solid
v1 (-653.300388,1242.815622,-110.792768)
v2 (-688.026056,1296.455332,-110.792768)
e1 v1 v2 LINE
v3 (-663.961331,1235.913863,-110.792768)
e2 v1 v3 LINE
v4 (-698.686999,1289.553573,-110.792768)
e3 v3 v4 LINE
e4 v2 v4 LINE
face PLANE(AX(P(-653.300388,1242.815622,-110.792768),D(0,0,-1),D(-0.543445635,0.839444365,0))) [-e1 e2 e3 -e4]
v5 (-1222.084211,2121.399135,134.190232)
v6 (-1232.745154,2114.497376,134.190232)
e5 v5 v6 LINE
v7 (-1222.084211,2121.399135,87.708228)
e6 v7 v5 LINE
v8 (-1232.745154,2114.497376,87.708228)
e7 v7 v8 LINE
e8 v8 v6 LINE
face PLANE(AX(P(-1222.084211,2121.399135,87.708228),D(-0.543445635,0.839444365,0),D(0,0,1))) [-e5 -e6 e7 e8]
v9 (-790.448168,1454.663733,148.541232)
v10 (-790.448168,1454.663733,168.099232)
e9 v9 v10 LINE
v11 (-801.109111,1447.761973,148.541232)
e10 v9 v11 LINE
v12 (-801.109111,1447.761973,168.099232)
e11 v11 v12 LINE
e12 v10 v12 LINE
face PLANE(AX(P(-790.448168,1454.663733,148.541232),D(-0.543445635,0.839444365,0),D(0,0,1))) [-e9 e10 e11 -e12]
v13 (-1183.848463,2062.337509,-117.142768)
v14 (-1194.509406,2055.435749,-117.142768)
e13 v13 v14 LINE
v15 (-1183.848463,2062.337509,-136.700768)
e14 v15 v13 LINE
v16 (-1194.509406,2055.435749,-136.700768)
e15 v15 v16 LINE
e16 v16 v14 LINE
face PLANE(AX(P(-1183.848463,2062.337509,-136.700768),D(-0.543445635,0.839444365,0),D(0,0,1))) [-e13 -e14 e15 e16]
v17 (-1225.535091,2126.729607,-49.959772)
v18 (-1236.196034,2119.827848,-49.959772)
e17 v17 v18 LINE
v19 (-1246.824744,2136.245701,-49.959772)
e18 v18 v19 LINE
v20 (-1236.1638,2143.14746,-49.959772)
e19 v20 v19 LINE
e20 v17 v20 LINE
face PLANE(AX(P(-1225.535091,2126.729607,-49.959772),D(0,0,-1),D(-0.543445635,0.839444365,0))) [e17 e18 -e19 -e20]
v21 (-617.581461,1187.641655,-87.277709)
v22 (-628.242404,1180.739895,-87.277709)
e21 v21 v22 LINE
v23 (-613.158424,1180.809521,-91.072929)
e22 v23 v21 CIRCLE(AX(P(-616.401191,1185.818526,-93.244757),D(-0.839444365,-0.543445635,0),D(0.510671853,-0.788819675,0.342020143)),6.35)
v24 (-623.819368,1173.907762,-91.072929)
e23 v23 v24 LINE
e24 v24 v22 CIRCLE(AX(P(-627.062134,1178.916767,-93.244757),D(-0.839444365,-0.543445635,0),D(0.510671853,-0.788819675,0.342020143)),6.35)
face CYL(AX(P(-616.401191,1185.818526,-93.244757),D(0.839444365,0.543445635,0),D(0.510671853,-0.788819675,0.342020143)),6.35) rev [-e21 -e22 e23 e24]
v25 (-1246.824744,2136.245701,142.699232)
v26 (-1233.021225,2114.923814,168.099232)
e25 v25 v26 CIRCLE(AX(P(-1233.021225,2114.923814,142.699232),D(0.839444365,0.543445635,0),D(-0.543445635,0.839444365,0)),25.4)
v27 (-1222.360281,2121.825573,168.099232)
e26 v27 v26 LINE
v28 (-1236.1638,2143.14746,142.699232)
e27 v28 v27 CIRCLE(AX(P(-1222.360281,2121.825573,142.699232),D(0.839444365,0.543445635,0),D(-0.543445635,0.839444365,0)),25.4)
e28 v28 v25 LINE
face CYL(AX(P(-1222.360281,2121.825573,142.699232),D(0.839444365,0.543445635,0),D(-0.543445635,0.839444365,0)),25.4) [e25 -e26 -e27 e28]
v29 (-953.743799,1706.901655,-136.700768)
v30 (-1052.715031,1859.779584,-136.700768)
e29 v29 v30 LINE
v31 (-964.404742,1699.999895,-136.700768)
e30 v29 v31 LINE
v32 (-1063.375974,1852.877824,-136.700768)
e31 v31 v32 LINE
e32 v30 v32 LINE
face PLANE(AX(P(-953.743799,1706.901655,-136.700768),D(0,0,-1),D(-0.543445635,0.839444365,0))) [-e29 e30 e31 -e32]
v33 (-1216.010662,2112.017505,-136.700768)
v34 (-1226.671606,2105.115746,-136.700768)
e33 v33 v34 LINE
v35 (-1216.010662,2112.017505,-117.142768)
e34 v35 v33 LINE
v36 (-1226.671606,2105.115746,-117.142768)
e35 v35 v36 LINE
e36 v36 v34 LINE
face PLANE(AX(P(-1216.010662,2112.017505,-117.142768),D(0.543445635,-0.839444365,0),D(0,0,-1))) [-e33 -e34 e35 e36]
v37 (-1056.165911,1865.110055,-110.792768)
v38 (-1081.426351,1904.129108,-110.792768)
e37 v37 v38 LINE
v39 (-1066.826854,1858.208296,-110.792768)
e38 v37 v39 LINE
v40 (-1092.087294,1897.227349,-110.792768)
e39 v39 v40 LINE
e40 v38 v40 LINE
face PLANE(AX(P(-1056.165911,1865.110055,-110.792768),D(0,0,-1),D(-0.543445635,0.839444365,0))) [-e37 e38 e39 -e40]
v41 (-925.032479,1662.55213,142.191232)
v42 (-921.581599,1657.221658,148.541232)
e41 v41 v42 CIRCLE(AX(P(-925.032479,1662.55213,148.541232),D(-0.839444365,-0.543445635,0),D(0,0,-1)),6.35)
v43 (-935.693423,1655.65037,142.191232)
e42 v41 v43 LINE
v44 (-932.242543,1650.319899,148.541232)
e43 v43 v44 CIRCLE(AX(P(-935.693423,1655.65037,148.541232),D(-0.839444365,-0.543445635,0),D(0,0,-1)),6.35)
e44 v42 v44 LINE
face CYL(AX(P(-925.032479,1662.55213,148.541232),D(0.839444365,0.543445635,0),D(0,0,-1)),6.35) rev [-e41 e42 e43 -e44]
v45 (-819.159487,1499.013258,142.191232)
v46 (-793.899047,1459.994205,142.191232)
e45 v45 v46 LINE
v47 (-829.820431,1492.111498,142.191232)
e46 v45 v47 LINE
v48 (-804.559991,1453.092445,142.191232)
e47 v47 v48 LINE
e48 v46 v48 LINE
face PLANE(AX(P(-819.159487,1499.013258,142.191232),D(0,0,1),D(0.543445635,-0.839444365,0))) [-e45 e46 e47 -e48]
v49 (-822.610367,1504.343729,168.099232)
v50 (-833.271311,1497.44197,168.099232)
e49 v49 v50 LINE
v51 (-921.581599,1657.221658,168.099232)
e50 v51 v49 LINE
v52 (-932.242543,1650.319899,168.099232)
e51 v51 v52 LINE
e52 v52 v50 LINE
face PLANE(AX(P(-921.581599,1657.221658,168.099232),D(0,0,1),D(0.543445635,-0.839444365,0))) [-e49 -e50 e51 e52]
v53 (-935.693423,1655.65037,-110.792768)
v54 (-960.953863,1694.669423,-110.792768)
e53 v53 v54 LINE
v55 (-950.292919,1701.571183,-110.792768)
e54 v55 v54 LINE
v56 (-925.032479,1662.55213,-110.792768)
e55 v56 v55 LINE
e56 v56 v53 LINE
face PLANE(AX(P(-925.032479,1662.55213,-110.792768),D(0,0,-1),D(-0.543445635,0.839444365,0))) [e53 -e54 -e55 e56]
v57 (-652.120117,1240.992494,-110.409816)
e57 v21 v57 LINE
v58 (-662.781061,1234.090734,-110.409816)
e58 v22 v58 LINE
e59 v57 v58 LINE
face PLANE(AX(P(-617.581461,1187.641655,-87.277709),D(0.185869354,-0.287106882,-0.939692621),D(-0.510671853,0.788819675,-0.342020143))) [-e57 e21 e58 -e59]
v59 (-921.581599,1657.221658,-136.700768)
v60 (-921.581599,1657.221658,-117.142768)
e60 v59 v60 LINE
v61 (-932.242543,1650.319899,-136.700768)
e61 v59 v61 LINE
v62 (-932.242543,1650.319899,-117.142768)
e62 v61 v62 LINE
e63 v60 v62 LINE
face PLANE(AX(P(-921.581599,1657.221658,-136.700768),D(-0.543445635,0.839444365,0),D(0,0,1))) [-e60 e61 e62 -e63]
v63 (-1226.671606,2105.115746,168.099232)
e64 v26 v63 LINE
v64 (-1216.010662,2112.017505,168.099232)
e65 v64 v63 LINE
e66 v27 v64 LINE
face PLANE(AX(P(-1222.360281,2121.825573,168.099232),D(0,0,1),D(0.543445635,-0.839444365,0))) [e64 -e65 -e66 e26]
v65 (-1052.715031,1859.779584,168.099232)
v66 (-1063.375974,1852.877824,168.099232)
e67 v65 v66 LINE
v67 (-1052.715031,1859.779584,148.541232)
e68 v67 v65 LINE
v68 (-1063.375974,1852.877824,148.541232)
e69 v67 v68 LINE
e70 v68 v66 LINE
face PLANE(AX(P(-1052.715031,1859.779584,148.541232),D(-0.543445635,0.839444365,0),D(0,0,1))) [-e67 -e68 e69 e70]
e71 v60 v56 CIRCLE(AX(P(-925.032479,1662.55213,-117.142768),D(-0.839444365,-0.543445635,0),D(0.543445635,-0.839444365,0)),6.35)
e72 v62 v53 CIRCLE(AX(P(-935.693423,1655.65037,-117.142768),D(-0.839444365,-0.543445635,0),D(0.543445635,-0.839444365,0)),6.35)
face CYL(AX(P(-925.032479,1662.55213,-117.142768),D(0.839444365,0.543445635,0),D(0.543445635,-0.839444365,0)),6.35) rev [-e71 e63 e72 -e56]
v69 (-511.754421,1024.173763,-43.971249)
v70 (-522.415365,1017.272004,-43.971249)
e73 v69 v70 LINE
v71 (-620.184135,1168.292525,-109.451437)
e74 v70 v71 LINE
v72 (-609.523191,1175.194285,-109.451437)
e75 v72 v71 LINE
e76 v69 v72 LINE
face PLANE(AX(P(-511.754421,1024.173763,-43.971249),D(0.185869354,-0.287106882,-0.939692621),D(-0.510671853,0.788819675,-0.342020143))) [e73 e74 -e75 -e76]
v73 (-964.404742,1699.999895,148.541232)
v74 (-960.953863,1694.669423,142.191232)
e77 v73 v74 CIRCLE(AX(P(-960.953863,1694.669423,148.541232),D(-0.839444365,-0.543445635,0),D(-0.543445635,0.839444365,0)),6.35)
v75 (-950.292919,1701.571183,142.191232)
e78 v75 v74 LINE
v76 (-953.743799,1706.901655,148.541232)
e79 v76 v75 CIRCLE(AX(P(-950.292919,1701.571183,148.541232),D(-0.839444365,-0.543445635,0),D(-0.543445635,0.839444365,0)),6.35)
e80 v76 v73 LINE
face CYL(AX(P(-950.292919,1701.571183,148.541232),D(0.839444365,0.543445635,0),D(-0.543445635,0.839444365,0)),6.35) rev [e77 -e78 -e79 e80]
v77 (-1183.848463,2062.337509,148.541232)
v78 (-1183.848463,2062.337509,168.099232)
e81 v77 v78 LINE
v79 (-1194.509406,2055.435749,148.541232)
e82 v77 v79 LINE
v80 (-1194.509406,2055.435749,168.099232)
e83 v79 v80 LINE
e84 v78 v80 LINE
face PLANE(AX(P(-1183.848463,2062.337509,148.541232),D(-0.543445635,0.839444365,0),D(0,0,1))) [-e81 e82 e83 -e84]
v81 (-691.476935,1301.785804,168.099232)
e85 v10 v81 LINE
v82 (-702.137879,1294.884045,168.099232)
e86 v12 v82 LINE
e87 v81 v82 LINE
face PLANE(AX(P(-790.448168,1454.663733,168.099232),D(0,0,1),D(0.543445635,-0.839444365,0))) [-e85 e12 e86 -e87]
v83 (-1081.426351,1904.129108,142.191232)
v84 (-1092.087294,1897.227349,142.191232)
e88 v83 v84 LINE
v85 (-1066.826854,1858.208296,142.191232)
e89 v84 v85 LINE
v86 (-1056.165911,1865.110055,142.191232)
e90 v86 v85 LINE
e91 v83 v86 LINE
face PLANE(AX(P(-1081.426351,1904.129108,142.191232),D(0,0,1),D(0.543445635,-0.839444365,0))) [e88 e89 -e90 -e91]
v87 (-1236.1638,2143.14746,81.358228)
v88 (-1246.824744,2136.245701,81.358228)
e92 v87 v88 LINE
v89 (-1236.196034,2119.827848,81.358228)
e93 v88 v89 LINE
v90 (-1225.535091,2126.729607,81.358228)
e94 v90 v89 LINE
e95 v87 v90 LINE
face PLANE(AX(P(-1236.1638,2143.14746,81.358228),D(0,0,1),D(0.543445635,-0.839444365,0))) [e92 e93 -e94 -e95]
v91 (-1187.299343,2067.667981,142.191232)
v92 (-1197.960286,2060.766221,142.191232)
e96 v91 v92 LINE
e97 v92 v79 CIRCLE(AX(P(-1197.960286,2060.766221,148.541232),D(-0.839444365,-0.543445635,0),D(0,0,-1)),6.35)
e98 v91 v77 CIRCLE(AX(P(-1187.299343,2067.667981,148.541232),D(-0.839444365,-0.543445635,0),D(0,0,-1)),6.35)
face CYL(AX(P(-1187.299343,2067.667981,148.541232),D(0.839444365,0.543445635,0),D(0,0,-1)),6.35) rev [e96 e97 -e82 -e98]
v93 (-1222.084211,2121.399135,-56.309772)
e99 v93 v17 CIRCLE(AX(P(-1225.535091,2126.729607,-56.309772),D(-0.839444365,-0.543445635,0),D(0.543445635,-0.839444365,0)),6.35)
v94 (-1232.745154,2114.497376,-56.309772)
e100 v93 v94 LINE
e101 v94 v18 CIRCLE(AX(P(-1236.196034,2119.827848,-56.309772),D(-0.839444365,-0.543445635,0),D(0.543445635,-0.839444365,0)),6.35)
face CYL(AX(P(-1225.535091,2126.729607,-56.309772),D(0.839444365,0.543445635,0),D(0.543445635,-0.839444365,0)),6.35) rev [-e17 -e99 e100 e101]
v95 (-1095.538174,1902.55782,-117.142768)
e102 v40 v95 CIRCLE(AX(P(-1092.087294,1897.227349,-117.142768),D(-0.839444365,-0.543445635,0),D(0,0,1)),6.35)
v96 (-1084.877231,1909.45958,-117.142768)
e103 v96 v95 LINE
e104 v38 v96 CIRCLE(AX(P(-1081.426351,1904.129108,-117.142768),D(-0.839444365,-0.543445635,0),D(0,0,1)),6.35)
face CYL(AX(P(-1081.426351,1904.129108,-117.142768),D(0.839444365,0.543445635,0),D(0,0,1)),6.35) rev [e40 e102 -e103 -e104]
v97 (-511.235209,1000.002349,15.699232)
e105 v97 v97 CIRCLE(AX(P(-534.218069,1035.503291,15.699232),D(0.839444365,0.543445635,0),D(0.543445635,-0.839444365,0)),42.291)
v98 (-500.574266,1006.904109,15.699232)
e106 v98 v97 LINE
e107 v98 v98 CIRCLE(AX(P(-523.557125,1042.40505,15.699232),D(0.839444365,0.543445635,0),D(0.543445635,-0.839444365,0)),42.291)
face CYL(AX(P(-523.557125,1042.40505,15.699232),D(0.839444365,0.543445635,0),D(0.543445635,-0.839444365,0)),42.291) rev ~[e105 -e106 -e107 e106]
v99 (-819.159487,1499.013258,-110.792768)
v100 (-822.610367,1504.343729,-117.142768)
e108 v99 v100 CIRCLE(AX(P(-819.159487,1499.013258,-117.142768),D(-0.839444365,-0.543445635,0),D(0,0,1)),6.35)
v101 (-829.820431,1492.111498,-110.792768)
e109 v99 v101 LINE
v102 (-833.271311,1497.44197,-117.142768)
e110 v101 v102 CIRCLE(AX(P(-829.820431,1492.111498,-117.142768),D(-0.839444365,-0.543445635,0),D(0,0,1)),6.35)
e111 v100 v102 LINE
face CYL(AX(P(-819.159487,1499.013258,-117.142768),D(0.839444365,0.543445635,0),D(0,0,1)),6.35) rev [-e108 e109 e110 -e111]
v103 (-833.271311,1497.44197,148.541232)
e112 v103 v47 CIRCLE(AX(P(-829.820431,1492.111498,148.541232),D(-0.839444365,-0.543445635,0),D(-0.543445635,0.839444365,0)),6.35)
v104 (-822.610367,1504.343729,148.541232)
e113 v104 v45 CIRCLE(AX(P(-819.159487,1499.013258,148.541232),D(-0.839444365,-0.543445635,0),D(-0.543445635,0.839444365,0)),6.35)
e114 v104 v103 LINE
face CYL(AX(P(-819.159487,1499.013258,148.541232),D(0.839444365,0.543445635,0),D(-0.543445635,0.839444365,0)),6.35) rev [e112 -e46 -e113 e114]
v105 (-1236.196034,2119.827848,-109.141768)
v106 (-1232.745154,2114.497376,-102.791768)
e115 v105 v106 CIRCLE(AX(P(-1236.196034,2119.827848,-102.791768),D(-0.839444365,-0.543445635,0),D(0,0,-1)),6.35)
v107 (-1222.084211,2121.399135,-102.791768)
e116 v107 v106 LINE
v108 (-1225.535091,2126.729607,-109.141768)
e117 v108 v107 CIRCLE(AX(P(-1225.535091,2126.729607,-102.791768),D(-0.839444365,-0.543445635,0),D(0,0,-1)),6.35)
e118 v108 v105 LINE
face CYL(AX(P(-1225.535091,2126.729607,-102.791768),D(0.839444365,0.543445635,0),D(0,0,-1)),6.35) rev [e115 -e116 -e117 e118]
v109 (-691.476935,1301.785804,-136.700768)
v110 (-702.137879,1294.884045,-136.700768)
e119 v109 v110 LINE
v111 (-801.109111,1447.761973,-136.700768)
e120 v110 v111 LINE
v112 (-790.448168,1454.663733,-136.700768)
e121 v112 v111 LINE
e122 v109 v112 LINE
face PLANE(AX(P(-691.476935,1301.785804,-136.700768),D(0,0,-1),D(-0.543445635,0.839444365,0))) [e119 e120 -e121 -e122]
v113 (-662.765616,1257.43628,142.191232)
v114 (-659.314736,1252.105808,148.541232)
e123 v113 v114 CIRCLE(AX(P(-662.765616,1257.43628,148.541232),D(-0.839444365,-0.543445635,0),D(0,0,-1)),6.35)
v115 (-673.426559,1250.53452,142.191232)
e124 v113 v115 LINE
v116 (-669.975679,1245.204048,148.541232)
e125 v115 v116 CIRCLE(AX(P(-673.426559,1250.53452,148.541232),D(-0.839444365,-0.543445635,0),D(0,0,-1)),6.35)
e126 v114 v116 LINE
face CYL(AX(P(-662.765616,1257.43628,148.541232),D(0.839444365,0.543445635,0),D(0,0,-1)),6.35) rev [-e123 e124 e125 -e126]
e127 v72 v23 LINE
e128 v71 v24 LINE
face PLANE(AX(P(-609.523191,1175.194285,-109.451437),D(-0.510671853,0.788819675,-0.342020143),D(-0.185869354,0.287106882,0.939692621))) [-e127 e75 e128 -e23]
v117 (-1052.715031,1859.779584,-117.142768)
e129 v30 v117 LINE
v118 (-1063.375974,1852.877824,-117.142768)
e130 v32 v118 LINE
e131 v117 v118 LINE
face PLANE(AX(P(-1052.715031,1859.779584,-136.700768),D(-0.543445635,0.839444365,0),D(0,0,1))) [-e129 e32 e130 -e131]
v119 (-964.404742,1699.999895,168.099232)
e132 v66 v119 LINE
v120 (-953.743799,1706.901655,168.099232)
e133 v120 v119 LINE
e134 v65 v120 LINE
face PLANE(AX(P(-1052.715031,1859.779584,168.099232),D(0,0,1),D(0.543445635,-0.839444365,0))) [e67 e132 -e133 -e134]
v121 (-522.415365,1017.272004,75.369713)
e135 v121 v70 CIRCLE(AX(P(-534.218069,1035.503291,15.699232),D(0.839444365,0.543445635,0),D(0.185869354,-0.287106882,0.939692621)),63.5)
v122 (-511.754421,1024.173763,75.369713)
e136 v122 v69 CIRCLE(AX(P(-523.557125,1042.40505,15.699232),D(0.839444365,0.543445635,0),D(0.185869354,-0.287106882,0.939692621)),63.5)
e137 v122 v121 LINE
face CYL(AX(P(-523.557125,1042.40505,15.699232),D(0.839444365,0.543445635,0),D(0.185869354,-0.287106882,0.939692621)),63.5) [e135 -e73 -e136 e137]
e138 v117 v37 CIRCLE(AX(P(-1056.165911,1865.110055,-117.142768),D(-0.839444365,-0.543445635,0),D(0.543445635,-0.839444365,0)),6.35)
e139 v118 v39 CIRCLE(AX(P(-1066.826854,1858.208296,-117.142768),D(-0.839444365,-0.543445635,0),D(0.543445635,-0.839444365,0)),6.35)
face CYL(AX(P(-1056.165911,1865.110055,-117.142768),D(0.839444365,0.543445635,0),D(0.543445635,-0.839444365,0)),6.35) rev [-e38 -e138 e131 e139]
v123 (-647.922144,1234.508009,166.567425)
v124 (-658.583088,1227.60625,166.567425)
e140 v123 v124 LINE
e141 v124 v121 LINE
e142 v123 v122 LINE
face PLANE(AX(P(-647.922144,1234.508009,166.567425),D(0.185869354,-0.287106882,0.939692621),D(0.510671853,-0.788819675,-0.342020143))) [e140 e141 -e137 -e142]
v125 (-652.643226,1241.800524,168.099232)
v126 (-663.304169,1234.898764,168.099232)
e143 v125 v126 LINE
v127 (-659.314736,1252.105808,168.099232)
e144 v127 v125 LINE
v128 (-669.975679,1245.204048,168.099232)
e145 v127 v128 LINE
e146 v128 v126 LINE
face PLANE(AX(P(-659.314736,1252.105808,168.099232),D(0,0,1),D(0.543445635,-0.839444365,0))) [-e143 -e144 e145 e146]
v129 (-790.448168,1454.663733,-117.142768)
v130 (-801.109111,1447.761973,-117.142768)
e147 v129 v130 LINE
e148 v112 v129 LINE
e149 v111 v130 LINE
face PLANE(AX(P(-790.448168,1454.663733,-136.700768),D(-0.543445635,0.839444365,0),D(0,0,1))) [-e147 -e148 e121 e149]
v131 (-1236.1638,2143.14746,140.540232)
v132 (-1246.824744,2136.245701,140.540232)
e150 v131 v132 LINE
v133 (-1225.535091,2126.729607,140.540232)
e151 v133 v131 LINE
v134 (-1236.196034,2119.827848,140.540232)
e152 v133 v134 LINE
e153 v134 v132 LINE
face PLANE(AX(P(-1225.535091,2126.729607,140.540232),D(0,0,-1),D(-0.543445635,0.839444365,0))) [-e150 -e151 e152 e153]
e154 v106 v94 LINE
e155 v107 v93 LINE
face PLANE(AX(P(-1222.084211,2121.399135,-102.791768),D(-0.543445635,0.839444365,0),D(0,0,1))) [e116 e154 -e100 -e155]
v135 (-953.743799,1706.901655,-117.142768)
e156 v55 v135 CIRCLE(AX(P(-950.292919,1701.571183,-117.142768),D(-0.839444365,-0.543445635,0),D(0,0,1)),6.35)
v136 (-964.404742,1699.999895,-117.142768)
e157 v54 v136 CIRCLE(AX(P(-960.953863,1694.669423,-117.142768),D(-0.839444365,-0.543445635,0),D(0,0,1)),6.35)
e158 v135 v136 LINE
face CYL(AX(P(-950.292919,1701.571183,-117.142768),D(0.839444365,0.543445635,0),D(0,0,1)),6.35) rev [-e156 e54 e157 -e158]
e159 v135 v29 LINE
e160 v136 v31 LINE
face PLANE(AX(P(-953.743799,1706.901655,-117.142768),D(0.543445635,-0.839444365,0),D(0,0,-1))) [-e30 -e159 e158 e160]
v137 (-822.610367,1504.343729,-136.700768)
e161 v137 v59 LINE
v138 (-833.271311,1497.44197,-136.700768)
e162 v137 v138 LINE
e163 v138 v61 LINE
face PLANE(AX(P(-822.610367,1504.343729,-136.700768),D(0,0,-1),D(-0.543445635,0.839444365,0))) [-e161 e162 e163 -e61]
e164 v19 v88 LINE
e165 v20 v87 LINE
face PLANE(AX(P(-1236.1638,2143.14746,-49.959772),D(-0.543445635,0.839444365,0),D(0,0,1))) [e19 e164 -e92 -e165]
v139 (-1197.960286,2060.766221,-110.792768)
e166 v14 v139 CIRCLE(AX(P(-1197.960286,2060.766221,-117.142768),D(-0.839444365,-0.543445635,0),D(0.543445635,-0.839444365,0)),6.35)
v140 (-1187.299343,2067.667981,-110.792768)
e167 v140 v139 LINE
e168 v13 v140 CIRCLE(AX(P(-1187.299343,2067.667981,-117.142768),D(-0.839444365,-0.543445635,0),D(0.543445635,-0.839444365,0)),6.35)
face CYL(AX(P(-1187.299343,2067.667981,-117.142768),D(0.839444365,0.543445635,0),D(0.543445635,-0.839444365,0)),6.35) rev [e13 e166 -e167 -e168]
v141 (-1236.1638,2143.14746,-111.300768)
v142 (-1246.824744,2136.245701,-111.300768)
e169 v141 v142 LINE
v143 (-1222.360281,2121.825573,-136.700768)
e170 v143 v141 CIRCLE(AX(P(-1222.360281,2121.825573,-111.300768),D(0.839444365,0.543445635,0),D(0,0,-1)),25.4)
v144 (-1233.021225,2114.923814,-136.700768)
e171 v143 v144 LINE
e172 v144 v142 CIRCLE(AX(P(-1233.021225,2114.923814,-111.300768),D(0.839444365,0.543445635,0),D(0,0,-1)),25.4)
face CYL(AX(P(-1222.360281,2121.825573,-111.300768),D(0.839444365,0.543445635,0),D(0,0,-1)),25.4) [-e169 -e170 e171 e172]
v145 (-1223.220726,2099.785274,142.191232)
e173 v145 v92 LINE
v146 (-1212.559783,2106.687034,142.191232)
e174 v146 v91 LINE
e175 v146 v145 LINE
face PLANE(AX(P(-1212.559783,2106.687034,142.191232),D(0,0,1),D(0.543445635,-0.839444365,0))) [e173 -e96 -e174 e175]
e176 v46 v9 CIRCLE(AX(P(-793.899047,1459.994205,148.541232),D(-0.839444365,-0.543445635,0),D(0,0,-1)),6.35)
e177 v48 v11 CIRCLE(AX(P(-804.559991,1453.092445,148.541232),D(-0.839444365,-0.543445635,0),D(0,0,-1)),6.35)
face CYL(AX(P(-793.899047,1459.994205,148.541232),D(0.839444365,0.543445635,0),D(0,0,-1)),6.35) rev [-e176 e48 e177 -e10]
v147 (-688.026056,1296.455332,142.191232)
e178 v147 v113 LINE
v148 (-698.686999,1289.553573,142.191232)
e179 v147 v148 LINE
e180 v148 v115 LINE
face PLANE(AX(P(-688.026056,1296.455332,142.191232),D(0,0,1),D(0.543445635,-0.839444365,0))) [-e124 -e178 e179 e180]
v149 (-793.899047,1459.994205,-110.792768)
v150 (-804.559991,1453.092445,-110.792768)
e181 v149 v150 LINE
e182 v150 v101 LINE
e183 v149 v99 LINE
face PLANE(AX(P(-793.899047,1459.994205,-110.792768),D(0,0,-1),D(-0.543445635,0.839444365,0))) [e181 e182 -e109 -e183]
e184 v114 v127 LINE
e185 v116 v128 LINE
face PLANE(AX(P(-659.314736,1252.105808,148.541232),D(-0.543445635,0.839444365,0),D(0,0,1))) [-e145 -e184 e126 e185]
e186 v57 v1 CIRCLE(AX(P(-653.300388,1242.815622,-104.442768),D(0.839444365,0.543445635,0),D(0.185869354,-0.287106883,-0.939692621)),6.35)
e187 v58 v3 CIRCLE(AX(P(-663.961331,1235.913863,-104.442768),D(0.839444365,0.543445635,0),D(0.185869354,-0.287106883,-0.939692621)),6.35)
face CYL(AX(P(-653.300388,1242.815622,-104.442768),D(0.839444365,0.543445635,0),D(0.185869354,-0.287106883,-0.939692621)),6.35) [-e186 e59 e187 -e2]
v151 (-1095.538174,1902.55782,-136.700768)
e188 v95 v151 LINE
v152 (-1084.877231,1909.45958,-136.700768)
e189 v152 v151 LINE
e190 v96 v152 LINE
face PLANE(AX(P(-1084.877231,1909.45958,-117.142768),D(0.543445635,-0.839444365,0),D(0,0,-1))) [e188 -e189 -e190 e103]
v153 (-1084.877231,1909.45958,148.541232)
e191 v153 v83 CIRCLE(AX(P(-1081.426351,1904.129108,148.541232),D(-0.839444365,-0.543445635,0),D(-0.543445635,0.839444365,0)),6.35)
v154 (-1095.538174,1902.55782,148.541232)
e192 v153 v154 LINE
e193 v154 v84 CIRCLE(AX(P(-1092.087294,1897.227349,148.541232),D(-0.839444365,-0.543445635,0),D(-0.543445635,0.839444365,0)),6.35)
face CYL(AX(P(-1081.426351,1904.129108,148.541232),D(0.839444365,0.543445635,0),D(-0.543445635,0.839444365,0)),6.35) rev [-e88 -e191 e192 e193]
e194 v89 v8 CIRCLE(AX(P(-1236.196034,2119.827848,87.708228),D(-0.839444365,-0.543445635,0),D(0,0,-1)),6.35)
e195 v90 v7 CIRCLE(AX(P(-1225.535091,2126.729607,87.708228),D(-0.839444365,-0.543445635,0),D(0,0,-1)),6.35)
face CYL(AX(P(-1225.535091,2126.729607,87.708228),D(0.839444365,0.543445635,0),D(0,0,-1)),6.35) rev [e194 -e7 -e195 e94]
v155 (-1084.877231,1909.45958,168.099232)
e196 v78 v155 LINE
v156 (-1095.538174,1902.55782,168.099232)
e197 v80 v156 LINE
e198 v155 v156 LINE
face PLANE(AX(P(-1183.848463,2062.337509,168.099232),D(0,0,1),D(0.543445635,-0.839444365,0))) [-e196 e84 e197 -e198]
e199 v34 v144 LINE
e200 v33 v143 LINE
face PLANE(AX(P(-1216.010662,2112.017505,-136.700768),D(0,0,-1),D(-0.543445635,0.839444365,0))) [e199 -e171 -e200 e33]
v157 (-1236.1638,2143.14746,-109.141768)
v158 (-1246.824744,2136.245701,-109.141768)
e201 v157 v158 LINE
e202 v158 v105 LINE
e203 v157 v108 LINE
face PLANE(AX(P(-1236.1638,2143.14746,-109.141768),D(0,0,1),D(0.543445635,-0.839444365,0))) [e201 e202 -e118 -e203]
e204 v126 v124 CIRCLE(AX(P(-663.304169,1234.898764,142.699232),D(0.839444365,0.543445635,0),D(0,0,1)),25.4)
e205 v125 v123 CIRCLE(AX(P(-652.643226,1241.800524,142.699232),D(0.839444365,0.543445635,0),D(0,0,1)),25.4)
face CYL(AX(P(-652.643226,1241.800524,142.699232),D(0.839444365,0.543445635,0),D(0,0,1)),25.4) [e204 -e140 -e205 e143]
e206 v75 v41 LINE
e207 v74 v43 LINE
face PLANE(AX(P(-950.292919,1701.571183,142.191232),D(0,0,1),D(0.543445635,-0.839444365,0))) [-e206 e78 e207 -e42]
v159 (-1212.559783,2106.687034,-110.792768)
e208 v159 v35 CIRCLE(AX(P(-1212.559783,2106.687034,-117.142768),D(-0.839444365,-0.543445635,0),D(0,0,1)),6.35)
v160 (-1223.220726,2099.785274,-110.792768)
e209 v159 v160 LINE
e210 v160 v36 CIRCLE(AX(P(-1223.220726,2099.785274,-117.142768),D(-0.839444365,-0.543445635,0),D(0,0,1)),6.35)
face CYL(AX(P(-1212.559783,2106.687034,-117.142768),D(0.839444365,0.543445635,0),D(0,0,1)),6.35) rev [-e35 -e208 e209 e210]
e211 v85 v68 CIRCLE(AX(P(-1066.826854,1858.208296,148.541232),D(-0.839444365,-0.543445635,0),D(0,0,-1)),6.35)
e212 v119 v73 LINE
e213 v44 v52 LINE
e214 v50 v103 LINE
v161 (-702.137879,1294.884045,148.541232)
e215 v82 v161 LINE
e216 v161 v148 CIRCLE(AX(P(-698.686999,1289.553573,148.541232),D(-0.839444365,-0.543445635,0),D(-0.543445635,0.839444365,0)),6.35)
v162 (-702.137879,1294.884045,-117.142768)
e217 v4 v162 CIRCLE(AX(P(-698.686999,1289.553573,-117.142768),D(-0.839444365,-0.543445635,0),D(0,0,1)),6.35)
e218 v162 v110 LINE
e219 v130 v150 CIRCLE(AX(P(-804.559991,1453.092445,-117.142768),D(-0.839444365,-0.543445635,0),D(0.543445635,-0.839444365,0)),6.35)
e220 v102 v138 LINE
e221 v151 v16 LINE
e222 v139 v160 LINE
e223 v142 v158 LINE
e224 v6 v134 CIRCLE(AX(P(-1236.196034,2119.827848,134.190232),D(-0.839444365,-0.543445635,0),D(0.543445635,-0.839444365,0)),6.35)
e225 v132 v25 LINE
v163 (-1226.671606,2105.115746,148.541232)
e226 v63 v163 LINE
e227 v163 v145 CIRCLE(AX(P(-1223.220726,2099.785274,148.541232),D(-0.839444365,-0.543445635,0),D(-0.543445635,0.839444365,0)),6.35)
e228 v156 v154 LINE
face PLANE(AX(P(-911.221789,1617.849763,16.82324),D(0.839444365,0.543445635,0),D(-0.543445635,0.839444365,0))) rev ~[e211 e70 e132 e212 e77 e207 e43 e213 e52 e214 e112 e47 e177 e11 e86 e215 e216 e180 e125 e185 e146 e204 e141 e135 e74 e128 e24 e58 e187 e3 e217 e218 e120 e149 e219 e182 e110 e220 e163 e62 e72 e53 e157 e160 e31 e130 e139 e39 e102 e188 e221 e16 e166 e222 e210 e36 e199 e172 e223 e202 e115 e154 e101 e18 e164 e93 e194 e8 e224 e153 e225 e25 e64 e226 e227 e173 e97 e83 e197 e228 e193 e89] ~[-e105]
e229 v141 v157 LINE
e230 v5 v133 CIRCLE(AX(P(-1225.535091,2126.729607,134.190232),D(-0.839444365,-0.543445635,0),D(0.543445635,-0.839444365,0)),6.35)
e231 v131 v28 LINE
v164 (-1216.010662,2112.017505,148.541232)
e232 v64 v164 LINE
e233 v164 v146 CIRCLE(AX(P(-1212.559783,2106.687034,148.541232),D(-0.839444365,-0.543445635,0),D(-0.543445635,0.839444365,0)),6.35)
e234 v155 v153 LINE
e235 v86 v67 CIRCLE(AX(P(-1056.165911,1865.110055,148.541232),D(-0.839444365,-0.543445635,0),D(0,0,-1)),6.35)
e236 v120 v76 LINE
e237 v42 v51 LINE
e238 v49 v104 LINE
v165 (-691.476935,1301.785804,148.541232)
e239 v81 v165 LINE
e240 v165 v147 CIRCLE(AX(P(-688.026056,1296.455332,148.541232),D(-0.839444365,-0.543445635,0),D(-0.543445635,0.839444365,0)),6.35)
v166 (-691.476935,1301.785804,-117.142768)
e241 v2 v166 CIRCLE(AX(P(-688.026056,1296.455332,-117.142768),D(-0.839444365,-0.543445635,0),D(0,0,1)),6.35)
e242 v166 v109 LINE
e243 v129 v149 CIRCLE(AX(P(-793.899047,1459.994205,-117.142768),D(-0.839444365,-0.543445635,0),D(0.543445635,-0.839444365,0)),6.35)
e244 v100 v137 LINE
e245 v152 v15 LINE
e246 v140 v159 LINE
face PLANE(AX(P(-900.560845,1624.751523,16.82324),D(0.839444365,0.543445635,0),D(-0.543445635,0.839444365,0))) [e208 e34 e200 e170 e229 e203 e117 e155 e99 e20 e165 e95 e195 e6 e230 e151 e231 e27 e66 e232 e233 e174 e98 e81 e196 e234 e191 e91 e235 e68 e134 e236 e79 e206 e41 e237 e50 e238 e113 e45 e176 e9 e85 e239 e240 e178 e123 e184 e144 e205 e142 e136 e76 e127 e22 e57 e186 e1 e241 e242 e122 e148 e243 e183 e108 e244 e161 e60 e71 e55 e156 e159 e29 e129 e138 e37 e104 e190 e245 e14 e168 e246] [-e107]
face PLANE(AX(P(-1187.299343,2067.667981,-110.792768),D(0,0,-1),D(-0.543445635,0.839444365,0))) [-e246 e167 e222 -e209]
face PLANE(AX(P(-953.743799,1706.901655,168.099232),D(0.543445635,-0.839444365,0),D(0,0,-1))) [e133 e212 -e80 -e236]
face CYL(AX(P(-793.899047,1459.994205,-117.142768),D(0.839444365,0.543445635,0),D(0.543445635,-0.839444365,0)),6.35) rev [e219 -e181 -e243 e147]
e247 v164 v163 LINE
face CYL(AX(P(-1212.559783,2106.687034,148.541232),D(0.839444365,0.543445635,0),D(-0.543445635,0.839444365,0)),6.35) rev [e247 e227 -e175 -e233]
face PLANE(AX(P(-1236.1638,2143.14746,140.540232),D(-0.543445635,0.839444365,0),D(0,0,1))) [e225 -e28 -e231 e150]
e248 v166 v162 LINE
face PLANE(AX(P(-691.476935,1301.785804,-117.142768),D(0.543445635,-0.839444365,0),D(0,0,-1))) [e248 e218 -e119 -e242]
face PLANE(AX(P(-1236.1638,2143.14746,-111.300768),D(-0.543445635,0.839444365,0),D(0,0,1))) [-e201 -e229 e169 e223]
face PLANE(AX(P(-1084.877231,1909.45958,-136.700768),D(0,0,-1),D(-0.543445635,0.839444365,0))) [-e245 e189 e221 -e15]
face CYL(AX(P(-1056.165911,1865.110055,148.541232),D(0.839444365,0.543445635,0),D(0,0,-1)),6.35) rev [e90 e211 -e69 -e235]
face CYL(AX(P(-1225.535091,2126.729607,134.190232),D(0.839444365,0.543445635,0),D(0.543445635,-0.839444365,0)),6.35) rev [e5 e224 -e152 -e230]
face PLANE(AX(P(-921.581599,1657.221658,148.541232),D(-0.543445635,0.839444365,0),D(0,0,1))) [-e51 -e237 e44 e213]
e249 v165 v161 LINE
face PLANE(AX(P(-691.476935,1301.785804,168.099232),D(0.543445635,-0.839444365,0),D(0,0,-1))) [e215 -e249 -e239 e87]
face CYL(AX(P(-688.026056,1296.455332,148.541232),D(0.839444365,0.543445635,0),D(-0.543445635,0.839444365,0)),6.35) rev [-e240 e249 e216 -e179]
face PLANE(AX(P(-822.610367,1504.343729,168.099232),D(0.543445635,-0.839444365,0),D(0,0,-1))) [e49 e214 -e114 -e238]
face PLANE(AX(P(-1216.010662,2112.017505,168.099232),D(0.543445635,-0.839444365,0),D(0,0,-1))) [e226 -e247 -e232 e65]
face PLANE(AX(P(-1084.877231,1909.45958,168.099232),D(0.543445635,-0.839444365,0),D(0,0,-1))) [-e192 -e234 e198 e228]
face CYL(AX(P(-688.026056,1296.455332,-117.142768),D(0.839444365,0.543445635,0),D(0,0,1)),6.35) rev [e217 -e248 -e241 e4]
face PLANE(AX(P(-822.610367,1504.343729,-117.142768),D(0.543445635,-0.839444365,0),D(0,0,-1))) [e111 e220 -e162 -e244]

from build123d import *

# Parameters (mm, degrees)
SKETCH1_R           = 42.291
BOSS_EXTRUDE1_DEPTH = 12.7


with BuildPart() as part:
    # Sketch1 → Boss-Extrude1 (new body)
    with BuildSketch(Plane(origin=(106.603890681, 69.014006689, 0), x_dir=(-0.543445635, 0.839444365, 0), z_dir=(0.839444365, 0.543445635, 0))):
        with BuildLine():
            Line((2433.75688, -117.142768), (2433.75688, -136.700768))
            Line((2433.75688, -136.700768), (2445.44088, -136.700768))
            ThreePointArc((2445.44088, -136.700768), (2463.401392242, -129.261280242), (2470.84088, -111.300768))
            Line((2470.84088, -111.300768), (2470.84088, -109.141768))
            Line((2470.84088, -109.141768), (2451.28288, -109.141768))
            ThreePointArc((2451.28288, -109.141768), (2446.792751939, -107.28189606), (2444.93288, -102.791768))
            Line((2444.93288, -102.791768), (2444.93288, -56.309772))
            ThreePointArc((2444.93288, -56.309772), (2446.792751939, -51.819643939), (2451.28288, -49.959772))
            Line((2451.28288, -49.959772), (2470.84088, -49.959772))
            Line((2470.84088, -49.959772), (2470.84088, 81.358228))
            Line((2470.84088, 81.358228), (2451.28288, 81.358228))
            ThreePointArc((2451.28288, 81.358228), (2446.792751939, 83.21809994), (2444.93288, 87.708228))
            Line((2444.93288, 87.708228), (2444.93288, 134.190232))
            ThreePointArc((2444.93288, 134.190232), (2446.792751939, 138.680360061), (2451.28288, 140.540232))
            Line((2451.28288, 140.540232), (2470.84088, 140.540232))
            Line((2470.84088, 140.540232), (2470.84088, 142.699232))
            ThreePointArc((2470.84088, 142.699232), (2463.401392242, 160.659744242), (2445.44088, 168.099232))
            Line((2445.44088, 168.099232), (2433.75688, 168.099232))
            Line((2433.75688, 168.099232), (2433.75688, 148.541232))
            ThreePointArc((2433.75688, 148.541232), (2431.897008061, 144.051103939), (2427.40688, 142.191232))
            Line((2427.40688, 142.191232), (2380.92488, 142.191232))
            ThreePointArc((2380.92488, 142.191232), (2376.434751939, 144.051103939), (2374.57488, 148.541232))
            Line((2374.57488, 148.541232), (2374.57488, 168.099232))
            Line((2374.57488, 168.099232), (2192.45688, 168.099232))
            Line((2192.45688, 168.099232), (2192.45688, 148.541232))
            ThreePointArc((2192.45688, 148.541232), (2190.597008061, 144.051103939), (2186.10688, 142.191232))
            Line((2186.10688, 142.191232), (2139.62488, 142.191232))
            ThreePointArc((2139.62488, 142.191232), (2135.134751939, 144.051103939), (2133.27488, 148.541232))
            Line((2133.27488, 148.541232), (2133.27488, 168.099232))
            Line((2133.27488, 168.099232), (1951.15688, 168.099232))
            Line((1951.15688, 168.099232), (1951.15688, 148.541232))
            ThreePointArc((1951.15688, 148.541232), (1949.297008061, 144.051103939), (1944.80688, 142.191232))
            Line((1944.80688, 142.191232), (1898.32488, 142.191232))
            ThreePointArc((1898.32488, 142.191232), (1893.834751939, 144.051103939), (1891.97488, 148.541232))
            Line((1891.97488, 148.541232), (1891.97488, 168.099232))
            Line((1891.97488, 168.099232), (1709.85688, 168.099232))
            Line((1709.85688, 168.099232), (1709.85688, 148.541232))
            ThreePointArc((1709.85688, 148.541232), (1707.997008061, 144.051103939), (1703.50688, 142.191232))
            Line((1703.50688, 142.191232), (1657.02488, 142.191232))
            ThreePointArc((1657.02488, 142.191232), (1652.534751939, 144.051103939), (1650.67488, 148.541232))
            Line((1650.67488, 148.541232), (1650.67488, 168.099232))
            Line((1650.67488, 168.099232), (1468.55688, 168.099232))
            Line((1468.55688, 168.099232), (1468.55688, 148.541232))
            ThreePointArc((1468.55688, 148.541232), (1466.697008061, 144.051103939), (1462.20688, 142.191232))
            Line((1462.20688, 142.191232), (1415.72488, 142.191232))
            ThreePointArc((1415.72488, 142.191232), (1411.234751939, 144.051103939), (1409.37488, 148.541232))
            Line((1409.37488, 148.541232), (1409.37488, 168.099232))
            Line((1409.37488, 168.099232), (1397.098564625, 168.099232))
            ThreePointArc((1397.098564625, 168.099232), (1392.687900912, 167.713348927), (1388.411252984, 166.567424568))
            Line((1388.411252984, 166.567424568), (1137.847600899, 75.36971342))
            ThreePointArc((1137.847600899, 75.36971342), (1096.06588, 15.699232), (1137.847600899, -43.97124942))
            Line((1137.847600899, -43.97124942), (1317.752937975, -109.451437101))
            Line((1317.752937975, -109.451437101), (1324.442167938, -91.072928824))
            ThreePointArc((1324.442167938, -91.072928824), (1327.725590118, -87.489702286), (1332.58104399, -87.277708592))
            Line((1332.58104399, -87.277708592), (1396.135987148, -110.409816142))
            ThreePointArc((1396.135987148, -110.409816142), (1397.20514913, -110.696297232), (1398.307815058, -110.792768))
            Line((1398.307815058, -110.792768), (1462.20688, -110.792768))
            ThreePointArc((1462.20688, -110.792768), (1466.697008061, -112.652639939), (1468.55688, -117.142768))
            Line((1468.55688, -117.142768), (1468.55688, -136.700768))
            Line((1468.55688, -136.700768), (1650.67488, -136.700768))
            Line((1650.67488, -136.700768), (1650.67488, -117.142768))
            ThreePointArc((1650.67488, -117.142768), (1652.534751939, -112.652639939), (1657.02488, -110.792768))
            Line((1657.02488, -110.792768), (1703.50688, -110.792768))
            ThreePointArc((1703.50688, -110.792768), (1707.997008061, -112.652639939), (1709.85688, -117.142768))
            Line((1709.85688, -117.142768), (1709.85688, -136.700768))
            Line((1709.85688, -136.700768), (1891.97488, -136.700768))
            Line((1891.97488, -136.700768), (1891.97488, -117.142768))
            ThreePointArc((1891.97488, -117.142768), (1893.834751939, -112.652639939), (1898.32488, -110.792768))
            Line((1898.32488, -110.792768), (1944.80688, -110.792768))
            ThreePointArc((1944.80688, -110.792768), (1949.297008061, -112.652639939), (1951.15688, -117.142768))
            Line((1951.15688, -117.142768), (1951.15688, -136.700768))
            Line((1951.15688, -136.700768), (2133.27488, -136.700768))
            Line((2133.27488, -136.700768), (2133.27488, -117.142768))
            ThreePointArc((2133.27488, -117.142768), (2135.134751939, -112.652639939), (2139.62488, -110.792768))
            Line((2139.62488, -110.792768), (2186.10688, -110.792768))
            ThreePointArc((2186.10688, -110.792768), (2190.597008061, -112.652639939), (2192.45688, -117.142768))
            Line((2192.45688, -117.142768), (2192.45688, -136.700768))
            Line((2192.45688, -136.700768), (2374.57488, -136.700768))
            Line((2374.57488, -136.700768), (2374.57488, -117.142768))
            ThreePointArc((2374.57488, -117.142768), (2376.434751939, -112.652639939), (2380.92488, -110.792768))
            Line((2380.92488, -110.792768), (2427.40688, -110.792768))
            ThreePointArc((2427.40688, -110.792768), (2431.897008061, -112.652639939), (2433.75688, -117.142768))
        make_face()
        with Locations(Location((1159.56588, 15.699232, 0), (0, 0, 180))):  # turned: the seam where the file's is
            Circle(SKETCH1_R, mode=Mode.SUBTRACT)
    extrude(amount=-BOSS_EXTRUDE1_DEPTH)


solid = part.part
